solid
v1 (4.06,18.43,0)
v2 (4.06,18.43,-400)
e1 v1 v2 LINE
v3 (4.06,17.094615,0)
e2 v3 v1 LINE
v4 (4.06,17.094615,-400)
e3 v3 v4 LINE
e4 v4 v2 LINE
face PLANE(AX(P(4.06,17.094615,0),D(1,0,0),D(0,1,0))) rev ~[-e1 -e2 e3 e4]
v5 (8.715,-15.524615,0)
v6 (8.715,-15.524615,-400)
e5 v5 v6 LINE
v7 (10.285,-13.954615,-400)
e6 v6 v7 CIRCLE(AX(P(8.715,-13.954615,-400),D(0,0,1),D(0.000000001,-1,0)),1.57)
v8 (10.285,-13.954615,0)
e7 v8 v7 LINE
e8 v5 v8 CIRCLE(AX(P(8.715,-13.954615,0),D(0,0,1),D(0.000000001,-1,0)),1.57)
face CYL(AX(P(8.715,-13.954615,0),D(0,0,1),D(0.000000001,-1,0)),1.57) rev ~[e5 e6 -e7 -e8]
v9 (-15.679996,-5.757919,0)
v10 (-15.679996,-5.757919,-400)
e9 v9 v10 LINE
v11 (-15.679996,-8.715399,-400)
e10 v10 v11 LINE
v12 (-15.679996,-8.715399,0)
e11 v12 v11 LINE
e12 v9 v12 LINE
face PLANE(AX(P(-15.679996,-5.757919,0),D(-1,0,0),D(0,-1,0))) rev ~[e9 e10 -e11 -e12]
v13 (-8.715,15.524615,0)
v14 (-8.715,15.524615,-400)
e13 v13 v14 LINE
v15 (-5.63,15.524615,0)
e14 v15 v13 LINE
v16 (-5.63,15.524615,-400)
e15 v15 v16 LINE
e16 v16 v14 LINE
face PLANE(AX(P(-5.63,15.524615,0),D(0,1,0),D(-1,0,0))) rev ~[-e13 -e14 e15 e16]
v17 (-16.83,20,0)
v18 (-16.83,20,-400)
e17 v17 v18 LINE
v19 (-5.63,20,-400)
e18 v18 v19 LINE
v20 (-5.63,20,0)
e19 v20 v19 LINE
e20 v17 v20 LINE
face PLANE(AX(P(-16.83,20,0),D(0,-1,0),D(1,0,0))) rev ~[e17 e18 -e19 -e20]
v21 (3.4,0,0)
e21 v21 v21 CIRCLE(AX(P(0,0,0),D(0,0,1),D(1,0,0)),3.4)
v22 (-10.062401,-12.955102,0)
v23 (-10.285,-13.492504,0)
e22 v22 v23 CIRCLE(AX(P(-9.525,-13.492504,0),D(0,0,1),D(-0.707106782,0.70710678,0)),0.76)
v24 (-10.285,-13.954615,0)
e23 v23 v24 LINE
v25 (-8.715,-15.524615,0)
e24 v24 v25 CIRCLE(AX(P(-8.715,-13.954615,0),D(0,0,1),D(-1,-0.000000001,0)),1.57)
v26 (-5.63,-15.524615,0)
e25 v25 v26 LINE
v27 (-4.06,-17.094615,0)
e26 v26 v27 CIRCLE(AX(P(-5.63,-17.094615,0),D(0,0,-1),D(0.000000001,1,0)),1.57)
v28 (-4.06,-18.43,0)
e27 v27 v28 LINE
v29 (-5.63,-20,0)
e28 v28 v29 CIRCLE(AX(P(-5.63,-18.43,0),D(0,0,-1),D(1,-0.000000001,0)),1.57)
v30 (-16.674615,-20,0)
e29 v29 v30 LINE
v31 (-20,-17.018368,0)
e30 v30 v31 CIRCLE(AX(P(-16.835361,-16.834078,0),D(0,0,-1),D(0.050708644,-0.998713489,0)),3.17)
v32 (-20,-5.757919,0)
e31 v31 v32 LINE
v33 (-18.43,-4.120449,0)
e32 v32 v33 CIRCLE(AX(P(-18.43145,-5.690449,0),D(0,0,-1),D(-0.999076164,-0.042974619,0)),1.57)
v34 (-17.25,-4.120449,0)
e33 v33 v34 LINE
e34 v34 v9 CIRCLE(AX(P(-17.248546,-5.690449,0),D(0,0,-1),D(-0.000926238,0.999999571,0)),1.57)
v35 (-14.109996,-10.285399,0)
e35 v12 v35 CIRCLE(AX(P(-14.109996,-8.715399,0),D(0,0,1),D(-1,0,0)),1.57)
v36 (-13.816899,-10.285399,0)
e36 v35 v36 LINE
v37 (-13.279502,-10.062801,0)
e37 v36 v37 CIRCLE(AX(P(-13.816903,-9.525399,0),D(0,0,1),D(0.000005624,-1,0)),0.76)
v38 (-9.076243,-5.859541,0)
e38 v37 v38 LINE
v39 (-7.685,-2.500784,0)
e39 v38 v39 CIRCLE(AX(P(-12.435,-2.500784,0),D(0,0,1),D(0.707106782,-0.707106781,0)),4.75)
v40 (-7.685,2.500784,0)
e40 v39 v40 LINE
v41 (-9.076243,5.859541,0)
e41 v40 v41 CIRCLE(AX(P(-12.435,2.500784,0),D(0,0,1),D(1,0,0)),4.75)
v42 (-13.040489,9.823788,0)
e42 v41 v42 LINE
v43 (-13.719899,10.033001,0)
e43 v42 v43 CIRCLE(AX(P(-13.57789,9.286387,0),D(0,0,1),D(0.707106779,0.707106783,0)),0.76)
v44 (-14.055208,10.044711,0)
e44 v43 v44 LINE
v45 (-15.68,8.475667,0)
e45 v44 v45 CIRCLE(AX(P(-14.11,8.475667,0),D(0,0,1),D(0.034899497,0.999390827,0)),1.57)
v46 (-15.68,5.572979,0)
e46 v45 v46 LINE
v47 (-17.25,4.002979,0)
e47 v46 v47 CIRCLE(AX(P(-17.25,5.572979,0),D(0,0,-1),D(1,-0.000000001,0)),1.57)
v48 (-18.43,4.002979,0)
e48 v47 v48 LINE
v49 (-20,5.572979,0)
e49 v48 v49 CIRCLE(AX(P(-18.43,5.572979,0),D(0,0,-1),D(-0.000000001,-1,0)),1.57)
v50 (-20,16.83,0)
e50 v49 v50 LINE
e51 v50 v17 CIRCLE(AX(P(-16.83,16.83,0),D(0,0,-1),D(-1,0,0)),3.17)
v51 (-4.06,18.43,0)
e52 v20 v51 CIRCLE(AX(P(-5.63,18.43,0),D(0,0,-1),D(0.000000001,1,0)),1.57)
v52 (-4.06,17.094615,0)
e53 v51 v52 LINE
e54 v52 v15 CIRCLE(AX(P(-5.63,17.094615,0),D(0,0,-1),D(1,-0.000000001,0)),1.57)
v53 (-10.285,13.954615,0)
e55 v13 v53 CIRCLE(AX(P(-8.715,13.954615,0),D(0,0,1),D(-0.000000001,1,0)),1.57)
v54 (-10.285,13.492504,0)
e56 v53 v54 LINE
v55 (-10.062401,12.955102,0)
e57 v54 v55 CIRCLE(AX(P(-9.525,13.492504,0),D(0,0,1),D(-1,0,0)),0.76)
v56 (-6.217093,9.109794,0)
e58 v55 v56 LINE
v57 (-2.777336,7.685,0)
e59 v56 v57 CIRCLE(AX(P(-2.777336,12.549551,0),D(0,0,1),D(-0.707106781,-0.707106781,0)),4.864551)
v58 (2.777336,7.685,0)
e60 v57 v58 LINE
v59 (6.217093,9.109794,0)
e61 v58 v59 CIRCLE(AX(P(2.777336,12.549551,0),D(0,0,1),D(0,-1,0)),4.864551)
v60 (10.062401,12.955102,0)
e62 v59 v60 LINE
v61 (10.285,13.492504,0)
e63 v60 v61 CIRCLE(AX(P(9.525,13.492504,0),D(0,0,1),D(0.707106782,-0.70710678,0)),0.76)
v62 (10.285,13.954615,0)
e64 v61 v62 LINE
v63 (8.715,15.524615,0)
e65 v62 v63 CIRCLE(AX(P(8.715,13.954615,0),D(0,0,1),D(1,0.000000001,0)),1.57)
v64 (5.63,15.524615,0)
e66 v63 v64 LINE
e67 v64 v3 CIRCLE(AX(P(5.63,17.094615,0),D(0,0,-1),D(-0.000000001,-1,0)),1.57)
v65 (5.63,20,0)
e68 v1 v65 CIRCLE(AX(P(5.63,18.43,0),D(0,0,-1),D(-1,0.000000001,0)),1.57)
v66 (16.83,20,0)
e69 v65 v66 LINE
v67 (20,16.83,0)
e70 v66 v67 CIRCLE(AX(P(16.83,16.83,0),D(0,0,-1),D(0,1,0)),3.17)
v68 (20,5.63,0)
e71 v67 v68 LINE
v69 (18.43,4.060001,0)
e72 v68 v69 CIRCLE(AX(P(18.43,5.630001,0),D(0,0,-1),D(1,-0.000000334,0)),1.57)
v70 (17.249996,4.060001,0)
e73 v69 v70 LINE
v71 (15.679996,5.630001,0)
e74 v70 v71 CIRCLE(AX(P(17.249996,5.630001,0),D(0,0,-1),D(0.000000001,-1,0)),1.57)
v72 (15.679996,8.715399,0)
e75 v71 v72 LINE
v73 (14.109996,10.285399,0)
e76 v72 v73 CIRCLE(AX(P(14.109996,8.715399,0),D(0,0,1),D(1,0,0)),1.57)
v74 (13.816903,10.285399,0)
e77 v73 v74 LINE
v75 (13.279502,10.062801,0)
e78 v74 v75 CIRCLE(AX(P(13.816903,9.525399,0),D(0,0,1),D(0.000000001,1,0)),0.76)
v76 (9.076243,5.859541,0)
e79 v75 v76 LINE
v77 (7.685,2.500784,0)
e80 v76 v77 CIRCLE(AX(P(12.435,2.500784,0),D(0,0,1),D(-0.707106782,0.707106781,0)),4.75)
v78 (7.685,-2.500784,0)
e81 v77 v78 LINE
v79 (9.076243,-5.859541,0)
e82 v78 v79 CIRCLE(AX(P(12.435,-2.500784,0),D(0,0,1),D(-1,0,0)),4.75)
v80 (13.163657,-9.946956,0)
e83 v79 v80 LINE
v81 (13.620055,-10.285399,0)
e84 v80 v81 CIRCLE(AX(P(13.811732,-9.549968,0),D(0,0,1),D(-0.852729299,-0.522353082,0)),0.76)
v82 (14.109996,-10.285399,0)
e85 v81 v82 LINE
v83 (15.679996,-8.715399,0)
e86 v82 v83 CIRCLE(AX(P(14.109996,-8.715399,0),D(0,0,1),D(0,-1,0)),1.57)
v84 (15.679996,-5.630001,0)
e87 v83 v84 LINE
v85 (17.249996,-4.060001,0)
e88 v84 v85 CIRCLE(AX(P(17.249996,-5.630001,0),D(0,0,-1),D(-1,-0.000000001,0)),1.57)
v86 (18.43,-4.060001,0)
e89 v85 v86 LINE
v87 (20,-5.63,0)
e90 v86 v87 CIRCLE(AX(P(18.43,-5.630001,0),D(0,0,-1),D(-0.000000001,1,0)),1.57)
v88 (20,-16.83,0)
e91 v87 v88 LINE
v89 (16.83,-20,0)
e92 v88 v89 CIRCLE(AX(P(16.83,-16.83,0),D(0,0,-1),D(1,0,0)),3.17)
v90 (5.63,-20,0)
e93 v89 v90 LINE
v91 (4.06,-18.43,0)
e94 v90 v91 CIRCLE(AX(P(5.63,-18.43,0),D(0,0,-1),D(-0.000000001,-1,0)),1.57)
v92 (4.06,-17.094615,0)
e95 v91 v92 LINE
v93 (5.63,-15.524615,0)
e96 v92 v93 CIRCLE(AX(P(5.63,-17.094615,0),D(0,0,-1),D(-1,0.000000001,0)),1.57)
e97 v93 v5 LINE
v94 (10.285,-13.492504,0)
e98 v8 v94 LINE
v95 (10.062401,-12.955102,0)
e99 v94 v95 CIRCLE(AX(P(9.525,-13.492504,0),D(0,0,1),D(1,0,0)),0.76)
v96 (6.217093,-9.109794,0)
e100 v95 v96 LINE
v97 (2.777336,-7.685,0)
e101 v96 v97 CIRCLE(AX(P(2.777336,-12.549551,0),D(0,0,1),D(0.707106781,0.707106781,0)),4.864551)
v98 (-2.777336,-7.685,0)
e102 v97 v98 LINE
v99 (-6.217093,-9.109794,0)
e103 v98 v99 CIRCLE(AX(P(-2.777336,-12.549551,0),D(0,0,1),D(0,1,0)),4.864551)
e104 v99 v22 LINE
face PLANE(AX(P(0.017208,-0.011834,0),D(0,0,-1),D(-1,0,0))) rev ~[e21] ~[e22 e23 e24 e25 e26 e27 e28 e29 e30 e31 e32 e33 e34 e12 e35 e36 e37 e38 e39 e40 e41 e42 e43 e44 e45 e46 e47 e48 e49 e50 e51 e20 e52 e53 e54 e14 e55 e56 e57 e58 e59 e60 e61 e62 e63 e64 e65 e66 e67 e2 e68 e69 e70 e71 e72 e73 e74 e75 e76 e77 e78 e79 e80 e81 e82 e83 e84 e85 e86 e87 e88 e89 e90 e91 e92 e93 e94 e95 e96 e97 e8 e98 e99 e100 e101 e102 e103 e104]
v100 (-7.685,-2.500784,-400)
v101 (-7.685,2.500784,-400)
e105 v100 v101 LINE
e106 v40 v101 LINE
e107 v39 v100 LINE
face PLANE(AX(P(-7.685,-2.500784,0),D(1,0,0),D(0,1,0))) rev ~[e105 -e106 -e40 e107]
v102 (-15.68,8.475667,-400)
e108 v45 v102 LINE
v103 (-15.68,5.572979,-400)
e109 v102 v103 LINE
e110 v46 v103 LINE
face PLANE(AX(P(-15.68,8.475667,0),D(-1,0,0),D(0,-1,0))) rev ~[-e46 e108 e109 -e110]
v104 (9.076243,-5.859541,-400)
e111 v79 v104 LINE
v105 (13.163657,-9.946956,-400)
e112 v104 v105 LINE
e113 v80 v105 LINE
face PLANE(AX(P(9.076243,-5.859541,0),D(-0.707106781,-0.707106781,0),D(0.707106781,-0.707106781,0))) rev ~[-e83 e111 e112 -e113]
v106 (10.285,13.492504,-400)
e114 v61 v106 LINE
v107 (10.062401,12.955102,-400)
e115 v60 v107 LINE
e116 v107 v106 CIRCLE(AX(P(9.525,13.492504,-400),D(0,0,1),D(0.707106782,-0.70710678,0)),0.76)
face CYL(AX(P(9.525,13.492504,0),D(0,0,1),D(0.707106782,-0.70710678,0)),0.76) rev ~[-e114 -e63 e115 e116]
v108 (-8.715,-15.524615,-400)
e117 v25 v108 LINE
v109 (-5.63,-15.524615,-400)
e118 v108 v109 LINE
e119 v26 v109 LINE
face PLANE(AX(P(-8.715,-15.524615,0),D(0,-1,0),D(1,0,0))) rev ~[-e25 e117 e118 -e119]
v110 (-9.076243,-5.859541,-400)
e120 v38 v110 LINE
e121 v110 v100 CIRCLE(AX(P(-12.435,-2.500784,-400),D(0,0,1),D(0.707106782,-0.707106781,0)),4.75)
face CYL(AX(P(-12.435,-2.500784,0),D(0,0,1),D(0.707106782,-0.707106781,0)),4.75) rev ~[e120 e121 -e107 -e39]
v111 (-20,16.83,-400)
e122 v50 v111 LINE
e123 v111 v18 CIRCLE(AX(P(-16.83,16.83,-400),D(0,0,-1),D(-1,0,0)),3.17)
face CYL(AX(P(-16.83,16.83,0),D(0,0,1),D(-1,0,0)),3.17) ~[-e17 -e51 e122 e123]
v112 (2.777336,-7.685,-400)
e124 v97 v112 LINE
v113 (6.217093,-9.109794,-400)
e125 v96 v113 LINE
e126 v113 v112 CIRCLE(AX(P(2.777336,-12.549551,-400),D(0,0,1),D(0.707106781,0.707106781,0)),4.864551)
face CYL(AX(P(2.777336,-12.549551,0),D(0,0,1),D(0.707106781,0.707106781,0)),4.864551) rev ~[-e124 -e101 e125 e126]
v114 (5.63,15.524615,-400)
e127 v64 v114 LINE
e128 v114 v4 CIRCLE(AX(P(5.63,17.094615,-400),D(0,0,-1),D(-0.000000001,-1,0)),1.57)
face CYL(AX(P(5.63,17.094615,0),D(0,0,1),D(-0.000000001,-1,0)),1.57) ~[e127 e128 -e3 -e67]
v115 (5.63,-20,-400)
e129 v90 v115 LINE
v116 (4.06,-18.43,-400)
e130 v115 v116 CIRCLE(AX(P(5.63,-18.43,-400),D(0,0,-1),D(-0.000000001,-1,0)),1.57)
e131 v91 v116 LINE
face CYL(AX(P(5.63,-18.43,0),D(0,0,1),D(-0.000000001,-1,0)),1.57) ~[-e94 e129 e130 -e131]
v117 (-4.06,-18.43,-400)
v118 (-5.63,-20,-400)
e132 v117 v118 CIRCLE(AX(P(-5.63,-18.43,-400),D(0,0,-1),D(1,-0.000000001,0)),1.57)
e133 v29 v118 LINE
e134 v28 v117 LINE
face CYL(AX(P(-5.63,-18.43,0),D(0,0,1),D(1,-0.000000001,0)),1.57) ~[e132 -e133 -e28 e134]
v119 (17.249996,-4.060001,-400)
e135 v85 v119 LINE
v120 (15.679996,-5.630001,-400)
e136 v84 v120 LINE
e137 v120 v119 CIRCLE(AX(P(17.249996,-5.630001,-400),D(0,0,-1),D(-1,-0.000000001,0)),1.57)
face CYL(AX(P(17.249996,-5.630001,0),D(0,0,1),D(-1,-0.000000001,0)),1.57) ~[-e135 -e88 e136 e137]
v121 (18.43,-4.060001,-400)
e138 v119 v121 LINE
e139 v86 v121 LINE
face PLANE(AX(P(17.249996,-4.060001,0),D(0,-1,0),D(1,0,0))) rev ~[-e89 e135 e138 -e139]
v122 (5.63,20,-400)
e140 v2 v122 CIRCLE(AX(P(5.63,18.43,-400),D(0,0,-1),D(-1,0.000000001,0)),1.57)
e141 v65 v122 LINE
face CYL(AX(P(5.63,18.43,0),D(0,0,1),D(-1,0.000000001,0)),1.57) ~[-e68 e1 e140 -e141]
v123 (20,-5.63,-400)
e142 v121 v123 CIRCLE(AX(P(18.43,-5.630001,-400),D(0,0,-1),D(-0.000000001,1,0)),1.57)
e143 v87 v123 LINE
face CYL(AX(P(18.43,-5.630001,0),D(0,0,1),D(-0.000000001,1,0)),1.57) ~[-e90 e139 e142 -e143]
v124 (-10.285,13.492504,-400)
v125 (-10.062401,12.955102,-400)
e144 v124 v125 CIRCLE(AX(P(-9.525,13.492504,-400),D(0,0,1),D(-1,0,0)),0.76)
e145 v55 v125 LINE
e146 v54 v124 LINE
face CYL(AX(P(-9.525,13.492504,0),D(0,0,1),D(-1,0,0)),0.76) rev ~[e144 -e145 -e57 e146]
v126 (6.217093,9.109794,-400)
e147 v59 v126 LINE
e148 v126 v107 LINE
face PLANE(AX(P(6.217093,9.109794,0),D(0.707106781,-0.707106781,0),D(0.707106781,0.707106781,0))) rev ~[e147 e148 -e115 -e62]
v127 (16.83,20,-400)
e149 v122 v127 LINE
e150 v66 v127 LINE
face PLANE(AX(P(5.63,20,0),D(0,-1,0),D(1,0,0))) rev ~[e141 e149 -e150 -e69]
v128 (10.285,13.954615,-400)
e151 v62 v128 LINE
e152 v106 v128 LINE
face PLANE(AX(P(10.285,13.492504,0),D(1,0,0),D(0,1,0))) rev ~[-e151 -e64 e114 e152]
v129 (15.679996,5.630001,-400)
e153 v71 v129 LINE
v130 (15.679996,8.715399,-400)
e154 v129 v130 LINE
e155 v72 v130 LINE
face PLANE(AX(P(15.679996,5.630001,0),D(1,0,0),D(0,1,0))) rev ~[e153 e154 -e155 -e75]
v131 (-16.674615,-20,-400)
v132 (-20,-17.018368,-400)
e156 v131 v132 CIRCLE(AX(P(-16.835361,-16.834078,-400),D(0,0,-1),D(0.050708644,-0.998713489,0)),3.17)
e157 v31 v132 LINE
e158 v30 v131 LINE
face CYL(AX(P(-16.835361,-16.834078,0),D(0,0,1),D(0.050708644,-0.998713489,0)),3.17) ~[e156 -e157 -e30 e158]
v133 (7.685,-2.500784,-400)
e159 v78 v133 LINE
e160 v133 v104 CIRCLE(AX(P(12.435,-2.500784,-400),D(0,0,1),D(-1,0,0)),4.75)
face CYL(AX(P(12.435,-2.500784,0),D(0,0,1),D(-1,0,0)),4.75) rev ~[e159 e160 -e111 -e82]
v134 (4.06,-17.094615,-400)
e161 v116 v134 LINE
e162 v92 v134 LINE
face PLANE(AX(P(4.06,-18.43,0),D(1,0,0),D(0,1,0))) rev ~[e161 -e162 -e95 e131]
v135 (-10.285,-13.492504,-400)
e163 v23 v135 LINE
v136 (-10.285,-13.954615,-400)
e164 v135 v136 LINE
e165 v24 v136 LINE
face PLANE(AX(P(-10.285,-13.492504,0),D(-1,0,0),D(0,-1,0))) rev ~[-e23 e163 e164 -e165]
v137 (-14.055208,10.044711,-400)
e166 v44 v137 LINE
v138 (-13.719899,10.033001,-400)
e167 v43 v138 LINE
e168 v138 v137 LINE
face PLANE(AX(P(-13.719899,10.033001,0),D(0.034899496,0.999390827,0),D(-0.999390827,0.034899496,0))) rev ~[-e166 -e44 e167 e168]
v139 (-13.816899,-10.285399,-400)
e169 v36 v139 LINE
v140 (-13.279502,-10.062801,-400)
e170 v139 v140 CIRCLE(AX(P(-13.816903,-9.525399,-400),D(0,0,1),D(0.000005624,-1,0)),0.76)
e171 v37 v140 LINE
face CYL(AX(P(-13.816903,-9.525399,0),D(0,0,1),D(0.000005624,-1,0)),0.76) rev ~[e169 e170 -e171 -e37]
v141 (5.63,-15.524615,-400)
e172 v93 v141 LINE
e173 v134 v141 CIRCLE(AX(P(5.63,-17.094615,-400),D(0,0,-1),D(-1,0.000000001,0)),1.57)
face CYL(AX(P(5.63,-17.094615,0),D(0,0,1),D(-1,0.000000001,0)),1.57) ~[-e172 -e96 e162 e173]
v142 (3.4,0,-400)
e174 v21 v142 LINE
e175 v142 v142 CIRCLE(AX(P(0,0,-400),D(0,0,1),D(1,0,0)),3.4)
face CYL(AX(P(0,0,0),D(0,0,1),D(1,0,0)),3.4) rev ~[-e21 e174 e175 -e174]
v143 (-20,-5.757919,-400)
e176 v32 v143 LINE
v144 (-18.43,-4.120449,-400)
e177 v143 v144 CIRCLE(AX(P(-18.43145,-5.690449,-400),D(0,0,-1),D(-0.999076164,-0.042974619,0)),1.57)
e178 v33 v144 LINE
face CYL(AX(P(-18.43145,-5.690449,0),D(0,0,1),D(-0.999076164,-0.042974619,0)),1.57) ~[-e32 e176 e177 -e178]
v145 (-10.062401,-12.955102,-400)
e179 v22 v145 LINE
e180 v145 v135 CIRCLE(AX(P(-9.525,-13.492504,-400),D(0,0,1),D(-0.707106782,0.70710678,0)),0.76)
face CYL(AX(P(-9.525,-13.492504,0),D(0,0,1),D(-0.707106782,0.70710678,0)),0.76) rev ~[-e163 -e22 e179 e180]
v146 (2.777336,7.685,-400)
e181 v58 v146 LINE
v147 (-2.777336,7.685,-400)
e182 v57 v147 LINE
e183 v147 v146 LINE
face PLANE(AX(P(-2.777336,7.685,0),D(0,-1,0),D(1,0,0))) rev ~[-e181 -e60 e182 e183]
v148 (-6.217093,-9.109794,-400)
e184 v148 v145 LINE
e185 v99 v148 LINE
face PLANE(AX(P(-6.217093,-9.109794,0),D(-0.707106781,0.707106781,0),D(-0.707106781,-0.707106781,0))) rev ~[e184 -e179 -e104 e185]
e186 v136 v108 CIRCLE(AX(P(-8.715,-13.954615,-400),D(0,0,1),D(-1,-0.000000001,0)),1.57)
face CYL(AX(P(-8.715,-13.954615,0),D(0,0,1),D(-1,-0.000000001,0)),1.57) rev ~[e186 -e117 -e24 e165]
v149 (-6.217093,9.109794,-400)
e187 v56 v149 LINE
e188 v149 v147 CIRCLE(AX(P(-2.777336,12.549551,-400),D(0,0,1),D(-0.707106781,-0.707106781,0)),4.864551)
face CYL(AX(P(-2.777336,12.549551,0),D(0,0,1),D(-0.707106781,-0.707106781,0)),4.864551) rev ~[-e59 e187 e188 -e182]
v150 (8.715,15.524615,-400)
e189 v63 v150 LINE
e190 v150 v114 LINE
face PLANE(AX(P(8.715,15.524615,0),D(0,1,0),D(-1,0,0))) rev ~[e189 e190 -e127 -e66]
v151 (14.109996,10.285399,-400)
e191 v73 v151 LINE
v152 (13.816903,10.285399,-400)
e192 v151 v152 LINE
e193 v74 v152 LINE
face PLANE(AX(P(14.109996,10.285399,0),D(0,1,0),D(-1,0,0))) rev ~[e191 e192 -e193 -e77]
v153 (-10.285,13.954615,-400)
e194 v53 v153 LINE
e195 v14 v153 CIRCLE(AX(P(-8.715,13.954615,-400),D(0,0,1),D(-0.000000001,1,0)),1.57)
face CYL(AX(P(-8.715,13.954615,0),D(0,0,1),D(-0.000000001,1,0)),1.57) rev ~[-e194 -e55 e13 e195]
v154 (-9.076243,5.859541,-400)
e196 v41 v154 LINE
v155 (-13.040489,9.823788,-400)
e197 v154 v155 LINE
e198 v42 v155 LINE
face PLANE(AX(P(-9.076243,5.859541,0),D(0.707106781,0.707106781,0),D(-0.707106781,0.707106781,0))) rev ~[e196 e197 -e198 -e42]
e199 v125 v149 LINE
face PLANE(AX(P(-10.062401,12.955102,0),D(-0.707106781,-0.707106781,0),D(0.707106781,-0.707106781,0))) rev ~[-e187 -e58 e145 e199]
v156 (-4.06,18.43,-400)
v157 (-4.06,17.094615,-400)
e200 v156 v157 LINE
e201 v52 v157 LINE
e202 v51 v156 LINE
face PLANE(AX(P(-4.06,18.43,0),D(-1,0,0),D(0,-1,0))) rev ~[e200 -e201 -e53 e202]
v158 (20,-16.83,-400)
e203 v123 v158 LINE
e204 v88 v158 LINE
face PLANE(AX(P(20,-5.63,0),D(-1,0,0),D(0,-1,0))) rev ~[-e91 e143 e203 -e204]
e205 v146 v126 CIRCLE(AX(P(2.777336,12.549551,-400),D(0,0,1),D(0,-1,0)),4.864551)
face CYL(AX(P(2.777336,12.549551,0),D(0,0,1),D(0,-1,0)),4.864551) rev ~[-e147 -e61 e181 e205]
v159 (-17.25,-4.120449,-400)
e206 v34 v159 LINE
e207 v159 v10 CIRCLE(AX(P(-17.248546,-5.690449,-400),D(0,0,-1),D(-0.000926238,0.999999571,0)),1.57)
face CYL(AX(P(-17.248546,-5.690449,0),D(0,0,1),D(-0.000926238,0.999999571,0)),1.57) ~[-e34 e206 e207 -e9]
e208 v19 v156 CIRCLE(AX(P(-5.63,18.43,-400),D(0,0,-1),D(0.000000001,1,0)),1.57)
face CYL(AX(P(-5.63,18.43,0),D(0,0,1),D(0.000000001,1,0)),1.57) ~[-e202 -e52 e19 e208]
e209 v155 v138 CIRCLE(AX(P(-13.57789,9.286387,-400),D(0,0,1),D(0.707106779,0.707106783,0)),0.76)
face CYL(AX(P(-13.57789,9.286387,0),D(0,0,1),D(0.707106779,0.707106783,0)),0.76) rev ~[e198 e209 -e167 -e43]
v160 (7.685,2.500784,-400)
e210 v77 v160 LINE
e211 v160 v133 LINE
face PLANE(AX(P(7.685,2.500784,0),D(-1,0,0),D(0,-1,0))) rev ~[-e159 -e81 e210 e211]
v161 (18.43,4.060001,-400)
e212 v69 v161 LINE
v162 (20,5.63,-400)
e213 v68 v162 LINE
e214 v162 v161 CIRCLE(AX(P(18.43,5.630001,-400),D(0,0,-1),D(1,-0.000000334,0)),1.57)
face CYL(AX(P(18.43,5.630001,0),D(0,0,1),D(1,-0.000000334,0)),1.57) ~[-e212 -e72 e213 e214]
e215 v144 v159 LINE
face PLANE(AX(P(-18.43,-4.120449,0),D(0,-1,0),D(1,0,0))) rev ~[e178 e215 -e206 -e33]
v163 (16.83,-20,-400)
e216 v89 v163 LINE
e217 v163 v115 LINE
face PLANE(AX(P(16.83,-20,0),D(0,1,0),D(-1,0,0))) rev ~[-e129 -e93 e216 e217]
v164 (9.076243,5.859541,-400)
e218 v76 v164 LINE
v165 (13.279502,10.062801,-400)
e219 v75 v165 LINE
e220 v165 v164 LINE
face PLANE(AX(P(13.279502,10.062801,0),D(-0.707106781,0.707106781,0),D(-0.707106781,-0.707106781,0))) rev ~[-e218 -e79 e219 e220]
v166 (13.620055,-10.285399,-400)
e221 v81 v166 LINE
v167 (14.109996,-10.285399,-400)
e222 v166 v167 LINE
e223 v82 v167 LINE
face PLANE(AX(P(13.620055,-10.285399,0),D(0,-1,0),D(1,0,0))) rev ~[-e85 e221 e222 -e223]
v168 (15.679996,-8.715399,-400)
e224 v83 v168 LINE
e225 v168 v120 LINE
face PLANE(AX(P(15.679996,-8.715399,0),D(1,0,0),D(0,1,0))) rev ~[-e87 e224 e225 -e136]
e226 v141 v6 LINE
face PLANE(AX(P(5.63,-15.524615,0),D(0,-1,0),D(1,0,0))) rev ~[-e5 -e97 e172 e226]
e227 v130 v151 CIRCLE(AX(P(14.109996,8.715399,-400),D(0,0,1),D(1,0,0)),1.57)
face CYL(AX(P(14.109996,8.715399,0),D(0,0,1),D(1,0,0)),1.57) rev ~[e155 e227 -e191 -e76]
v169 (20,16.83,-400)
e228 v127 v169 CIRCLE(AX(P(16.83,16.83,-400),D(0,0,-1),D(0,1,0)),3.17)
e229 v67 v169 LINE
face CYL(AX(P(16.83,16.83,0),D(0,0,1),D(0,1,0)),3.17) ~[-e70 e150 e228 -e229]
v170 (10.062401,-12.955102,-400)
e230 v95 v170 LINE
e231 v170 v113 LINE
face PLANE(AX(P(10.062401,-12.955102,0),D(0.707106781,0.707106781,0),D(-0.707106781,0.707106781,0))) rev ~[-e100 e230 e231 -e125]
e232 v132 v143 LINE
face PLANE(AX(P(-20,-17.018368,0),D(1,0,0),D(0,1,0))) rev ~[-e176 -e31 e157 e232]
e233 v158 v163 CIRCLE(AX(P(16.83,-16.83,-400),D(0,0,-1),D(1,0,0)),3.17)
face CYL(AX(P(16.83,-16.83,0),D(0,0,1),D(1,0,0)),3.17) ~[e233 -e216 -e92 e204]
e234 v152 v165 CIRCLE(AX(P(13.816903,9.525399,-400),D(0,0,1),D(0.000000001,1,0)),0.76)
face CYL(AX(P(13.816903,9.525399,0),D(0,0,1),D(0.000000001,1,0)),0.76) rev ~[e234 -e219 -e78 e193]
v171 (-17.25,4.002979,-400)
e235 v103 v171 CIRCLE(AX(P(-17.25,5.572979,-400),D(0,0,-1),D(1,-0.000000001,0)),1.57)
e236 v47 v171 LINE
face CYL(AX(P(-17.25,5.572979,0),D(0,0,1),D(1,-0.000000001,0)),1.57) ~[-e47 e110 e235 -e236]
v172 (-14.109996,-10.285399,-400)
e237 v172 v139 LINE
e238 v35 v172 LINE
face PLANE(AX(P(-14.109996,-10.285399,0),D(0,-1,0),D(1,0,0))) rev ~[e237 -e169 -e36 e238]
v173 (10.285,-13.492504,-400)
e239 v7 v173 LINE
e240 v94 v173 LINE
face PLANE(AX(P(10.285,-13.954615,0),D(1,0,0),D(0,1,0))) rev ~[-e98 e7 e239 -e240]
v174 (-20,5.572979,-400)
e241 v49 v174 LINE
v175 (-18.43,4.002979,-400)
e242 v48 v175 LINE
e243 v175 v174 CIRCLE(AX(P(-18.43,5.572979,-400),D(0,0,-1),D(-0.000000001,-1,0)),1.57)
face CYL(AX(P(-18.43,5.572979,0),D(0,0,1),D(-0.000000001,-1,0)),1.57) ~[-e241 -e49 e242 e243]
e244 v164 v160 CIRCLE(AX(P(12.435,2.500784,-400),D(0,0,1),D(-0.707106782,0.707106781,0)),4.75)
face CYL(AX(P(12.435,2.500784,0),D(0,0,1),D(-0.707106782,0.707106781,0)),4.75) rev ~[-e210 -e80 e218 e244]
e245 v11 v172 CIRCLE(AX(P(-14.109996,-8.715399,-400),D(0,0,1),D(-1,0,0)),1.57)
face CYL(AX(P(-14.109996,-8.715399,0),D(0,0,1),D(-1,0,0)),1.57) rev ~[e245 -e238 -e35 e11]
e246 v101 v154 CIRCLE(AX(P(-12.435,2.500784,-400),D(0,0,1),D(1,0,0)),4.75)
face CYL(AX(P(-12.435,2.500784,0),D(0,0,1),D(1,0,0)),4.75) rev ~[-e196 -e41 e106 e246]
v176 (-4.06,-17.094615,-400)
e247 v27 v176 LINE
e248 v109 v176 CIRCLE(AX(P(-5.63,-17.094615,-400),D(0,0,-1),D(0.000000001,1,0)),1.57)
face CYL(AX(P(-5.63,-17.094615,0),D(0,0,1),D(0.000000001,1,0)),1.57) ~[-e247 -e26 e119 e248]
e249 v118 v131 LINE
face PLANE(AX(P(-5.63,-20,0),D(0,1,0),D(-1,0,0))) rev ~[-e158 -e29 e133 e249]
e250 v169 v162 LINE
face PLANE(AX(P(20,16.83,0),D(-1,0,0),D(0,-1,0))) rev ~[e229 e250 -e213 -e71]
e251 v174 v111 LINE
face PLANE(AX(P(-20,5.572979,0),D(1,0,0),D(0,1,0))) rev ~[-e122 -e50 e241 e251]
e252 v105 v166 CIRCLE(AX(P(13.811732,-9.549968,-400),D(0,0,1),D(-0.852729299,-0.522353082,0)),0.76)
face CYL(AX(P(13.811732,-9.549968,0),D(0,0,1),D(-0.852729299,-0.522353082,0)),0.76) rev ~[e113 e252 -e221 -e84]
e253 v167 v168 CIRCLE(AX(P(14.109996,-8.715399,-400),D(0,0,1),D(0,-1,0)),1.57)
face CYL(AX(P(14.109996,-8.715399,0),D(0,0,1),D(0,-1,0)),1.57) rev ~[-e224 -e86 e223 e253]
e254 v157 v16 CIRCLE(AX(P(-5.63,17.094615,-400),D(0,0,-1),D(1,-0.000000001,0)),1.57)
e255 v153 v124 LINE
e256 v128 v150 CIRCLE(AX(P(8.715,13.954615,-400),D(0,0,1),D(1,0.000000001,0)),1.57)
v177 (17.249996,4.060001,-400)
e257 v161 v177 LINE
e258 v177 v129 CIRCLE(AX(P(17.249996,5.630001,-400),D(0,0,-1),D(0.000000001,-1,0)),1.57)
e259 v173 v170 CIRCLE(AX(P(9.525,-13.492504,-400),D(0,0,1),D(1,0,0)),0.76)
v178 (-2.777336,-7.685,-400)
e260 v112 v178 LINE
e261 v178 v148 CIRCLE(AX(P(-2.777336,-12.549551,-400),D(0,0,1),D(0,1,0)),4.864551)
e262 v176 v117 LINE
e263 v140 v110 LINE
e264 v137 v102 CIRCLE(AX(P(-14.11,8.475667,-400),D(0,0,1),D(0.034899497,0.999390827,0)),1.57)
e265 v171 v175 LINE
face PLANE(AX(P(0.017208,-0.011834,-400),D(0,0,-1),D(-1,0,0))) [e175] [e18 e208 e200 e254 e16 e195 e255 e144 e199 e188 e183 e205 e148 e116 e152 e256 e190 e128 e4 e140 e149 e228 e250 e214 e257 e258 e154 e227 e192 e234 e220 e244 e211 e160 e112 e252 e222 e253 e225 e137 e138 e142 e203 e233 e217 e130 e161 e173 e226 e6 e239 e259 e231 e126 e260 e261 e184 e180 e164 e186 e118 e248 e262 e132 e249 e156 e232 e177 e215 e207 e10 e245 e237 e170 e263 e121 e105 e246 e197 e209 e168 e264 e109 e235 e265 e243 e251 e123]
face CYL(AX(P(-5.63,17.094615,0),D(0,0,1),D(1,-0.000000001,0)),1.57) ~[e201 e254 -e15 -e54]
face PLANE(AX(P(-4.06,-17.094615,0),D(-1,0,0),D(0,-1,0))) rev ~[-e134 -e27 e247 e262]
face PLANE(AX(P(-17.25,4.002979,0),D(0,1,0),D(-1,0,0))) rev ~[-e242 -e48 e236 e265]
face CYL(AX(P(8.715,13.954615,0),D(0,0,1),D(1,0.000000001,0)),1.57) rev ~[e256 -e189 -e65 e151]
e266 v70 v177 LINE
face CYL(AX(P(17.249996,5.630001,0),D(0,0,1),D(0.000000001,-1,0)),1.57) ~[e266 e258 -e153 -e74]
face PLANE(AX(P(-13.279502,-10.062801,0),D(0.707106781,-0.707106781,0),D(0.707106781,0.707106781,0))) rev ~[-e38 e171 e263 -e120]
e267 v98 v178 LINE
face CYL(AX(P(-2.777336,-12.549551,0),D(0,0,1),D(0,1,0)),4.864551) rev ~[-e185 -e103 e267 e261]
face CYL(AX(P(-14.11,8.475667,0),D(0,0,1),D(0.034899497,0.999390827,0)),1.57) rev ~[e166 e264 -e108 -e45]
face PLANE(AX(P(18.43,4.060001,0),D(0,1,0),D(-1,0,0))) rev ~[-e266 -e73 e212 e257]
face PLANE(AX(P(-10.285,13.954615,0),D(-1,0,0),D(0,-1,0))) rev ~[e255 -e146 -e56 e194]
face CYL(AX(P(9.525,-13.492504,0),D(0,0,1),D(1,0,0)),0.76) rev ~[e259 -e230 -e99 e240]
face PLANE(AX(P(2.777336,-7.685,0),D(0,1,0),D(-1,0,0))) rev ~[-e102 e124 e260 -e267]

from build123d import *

# Parameters (mm, degrees)
SKETCH1_R      = 3.4
EXTRUDE1_DEPTH = 400


with BuildPart() as part:
    # Sketch1 → Extrude1 (new body)
    with BuildSketch(Plane.XY):
        with BuildLine():
            Line((-8.715, -15.524615034), (-5.63, -15.524615034))
            ThreePointArc((-5.63, -15.524615034), (-4.519842354, -15.984457388), (-4.06, -17.094615034))
            Line((-4.06, -17.094615034), (-4.06, -18.43))
            ThreePointArc((-4.06, -18.43), (-4.519842354, -19.540157646), (-5.63, -20))
            Line((-5.63, -20), (-16.674615034, -20))
            ThreePointArc((-16.674615034, -20), (-18.951578385, -19.194274381), (-20, -17.018368134))
            Line((-20, -17.018368134), (-20, -5.757918808))
            ThreePointArc((-20, -5.757918808), (-19.564709668, -4.603883664), (-18.43, -4.120449326))
            Line((-18.43, -4.120449326), (-17.25, -4.120449326))
            ThreePointArc((-17.25, -4.120449326), (-16.115287682, -4.60388249), (-15.67999625, -5.757919334))
            Line((-15.67999625, -5.757919334), (-15.67999625, -8.715399492))
            ThreePointArc((-15.67999625, -8.715399492), (-15.220153896, -9.825557139), (-14.10999625, -10.285399492))
            Line((-14.10999625, -10.285399492), (-13.816898819, -10.285399492))
            ThreePointArc((-13.816898819, -10.285399492), (-13.526061711, -10.227547119), (-13.279501941, -10.062800646))
            Line((-13.279501941, -10.062800646), (-9.076242789, -5.859541495))
            ThreePointArc((-9.076242789, -5.859541495), (-8.046572221, -4.318530588), (-7.685, -2.500784284))
            Line((-7.685, -2.500784284), (-7.685, 2.500784284))
            ThreePointArc((-7.685, 2.500784284), (-8.046572221, 4.318530588), (-9.076242789, 5.859541495))
            Line((-9.076242789, 5.859541495), (-13.040489136, 9.823787841))
            ThreePointArc((-13.040489136, 9.823787841), (-13.354224618, 10.012729352), (-13.71989919, 10.033001362))
            Line((-13.71989919, 10.033001362), (-14.05520779, 10.044710596))
            ThreePointArc((-14.05520779, 10.044710596), (-15.200613642, 9.605030484), (-15.68, 8.475666998))
            Line((-15.68, 8.475666998), (-15.68, 5.572979049))
            ThreePointArc((-15.68, 5.572979049), (-16.139842354, 4.462821403), (-17.25, 4.002979049))
            Line((-17.25, 4.002979049), (-18.43, 4.002979049))
            ThreePointArc((-18.43, 4.002979049), (-19.540157646, 4.462821403), (-20, 5.572979049))
            Line((-20, 5.572979049), (-20, 13.004526564))
            Line((-20, 13.004526564), (-20, 16.83))
            ThreePointArc((-20, 16.83), (-19.071528496, 19.071528496), (-16.83, 20))
            Line((-16.83, 20), (-5.63, 20))
            ThreePointArc((-5.63, 20), (-4.519842354, 19.540157646), (-4.06, 18.43))
            Line((-4.06, 18.43), (-4.06, 17.094615034))
            ThreePointArc((-4.06, 17.094615034), (-4.519842354, 15.984457388), (-5.63, 15.524615034))
            Line((-5.63, 15.524615034), (-8.715, 15.524615034))
            ThreePointArc((-8.715, 15.524615034), (-9.825157646, 15.06477268), (-10.285, 13.954615034))
            Line((-10.285, 13.954615034), (-10.285, 13.492503602))
            ThreePointArc((-10.285, 13.492503602), (-10.227148445, 13.201664194), (-10.062401154, 12.955102448))
            Line((-10.062401154, 12.955102448), (-6.217092793, 9.109794088))
            ThreePointArc((-6.217092793, 9.109794088), (-4.63891877, 8.055291919), (-2.777335583, 7.685))
            Line((-2.777335583, 7.685), (2.777335583, 7.685))
            ThreePointArc((2.777335583, 7.685), (4.63891877, 8.055291919), (6.217092793, 9.109794088))
            Line((6.217092793, 9.109794088), (10.062401154, 12.955102448))
            ThreePointArc((10.062401154, 12.955102448), (10.227148445, 13.201664194), (10.285, 13.492503602))
            Line((10.285, 13.492503602), (10.285, 13.954615034))
            ThreePointArc((10.285, 13.954615034), (9.825157646, 15.06477268), (8.715, 15.524615034))
            Line((8.715, 15.524615034), (5.63, 15.524615034))
            ThreePointArc((5.63, 15.524615034), (4.519842354, 15.984457388), (4.06, 17.094615034))
            Line((4.06, 17.094615034), (4.06, 18.43))
            ThreePointArc((4.06, 18.43), (4.519842354, 19.540157646), (5.63, 20))
            Line((5.63, 20), (12.979635074, 20))
            Line((12.979635074, 20), (16.83, 20))
            ThreePointArc((16.83, 20), (19.071528496, 19.071528496), (20, 16.83))
            Line((20, 16.83), (20, 13.001098436))
            Line((20, 13.001098436), (20, 5.63))
            ThreePointArc((20, 5.63), (19.540157461, 4.519842693), (18.43, 4.060000526))
            Line((18.43, 4.060000526), (17.24999625, 4.060000526))
            ThreePointArc((17.24999625, 4.060000526), (16.139838603, 4.519842879), (15.67999625, 5.630000526))
            Line((15.67999625, 5.630000526), (15.67999625, 8.715399492))
            ThreePointArc((15.67999625, 8.715399492), (15.220153896, 9.825557139), (14.10999625, 10.285399492))
            Line((14.10999625, 10.285399492), (13.816903094, 10.285399492))
            ThreePointArc((13.816903094, 10.285399492), (13.526063686, 10.227547937), (13.279501941, 10.062800646))
            Line((13.279501941, 10.062800646), (9.076242789, 5.859541495))
            ThreePointArc((9.076242789, 5.859541495), (8.046572221, 4.318530588), (7.685, 2.500784284))
            Line((7.685, 2.500784284), (7.685, -2.500784284))
            ThreePointArc((7.685, -2.500784284), (8.046572221, -4.318530588), (9.076242789, -5.859541495))
            Line((9.076242789, -5.859541495), (13.163657296, -9.946956002))
            ThreePointArc((13.163657296, -9.946956002), (13.35903797, -10.160433474), (13.6200547, -10.285399492))
            Line((13.6200547, -10.285399492), (14.10999625, -10.285399492))
            ThreePointArc((14.10999625, -10.285399492), (15.220153896, -9.825557139), (15.67999625, -8.715399492))
            Line((15.67999625, -8.715399492), (15.67999625, -5.630000526))
            ThreePointArc((15.67999625, -5.630000526), (16.139838603, -4.519842879), (17.24999625, -4.060000526))
            Line((17.24999625, -4.060000526), (18.43, -4.060000526))
            ThreePointArc((18.43, -4.060000526), (19.540157461, -4.519842693), (20, -5.63))
            Line((20, -5.63), (20, -16.83))
            ThreePointArc((20, -16.83), (19.071528496, -19.071528496), (16.83, -20))
            Line((16.83, -20), (13, -20))
            Line((13, -20), (5.63, -20))
            ThreePointArc((5.63, -20), (4.519842354, -19.540157646), (4.06, -18.43))
            Line((4.06, -18.43), (4.06, -17.094615034))
            ThreePointArc((4.06, -17.094615034), (4.519842354, -15.984457388), (5.63, -15.524615034))
            Line((5.63, -15.524615034), (8.715, -15.524615034))
            ThreePointArc((8.715, -15.524615034), (9.825157646, -15.06477268), (10.285, -13.954615034))
            Line((10.285, -13.954615034), (10.285, -13.492503602))
            ThreePointArc((10.285, -13.492503602), (10.227148445, -13.201664194), (10.062401154, -12.955102448))
            Line((10.062401154, -12.955102448), (6.217092793, -9.109794088))
            ThreePointArc((6.217092793, -9.109794088), (4.63891877, -8.055291919), (2.777335583, -7.685))
            Line((2.777335583, -7.685), (-2.777335583, -7.685))
            ThreePointArc((-2.777335583, -7.685), (-4.63891877, -8.055291919), (-6.217092793, -9.109794088))
            Line((-6.217092793, -9.109794088), (-10.062401154, -12.955102448))
            ThreePointArc((-10.062401154, -12.955102448), (-10.227148445, -13.201664194), (-10.285, -13.492503602))
            Line((-10.285, -13.492503602), (-10.285, -13.954615034))
            ThreePointArc((-10.285, -13.954615034), (-9.825157646, -15.06477268), (-8.715, -15.524615034))
        make_face()
        Circle(SKETCH1_R, mode=Mode.SUBTRACT)
    extrude(amount=-EXTRUDE1_DEPTH)


solid = part.part
